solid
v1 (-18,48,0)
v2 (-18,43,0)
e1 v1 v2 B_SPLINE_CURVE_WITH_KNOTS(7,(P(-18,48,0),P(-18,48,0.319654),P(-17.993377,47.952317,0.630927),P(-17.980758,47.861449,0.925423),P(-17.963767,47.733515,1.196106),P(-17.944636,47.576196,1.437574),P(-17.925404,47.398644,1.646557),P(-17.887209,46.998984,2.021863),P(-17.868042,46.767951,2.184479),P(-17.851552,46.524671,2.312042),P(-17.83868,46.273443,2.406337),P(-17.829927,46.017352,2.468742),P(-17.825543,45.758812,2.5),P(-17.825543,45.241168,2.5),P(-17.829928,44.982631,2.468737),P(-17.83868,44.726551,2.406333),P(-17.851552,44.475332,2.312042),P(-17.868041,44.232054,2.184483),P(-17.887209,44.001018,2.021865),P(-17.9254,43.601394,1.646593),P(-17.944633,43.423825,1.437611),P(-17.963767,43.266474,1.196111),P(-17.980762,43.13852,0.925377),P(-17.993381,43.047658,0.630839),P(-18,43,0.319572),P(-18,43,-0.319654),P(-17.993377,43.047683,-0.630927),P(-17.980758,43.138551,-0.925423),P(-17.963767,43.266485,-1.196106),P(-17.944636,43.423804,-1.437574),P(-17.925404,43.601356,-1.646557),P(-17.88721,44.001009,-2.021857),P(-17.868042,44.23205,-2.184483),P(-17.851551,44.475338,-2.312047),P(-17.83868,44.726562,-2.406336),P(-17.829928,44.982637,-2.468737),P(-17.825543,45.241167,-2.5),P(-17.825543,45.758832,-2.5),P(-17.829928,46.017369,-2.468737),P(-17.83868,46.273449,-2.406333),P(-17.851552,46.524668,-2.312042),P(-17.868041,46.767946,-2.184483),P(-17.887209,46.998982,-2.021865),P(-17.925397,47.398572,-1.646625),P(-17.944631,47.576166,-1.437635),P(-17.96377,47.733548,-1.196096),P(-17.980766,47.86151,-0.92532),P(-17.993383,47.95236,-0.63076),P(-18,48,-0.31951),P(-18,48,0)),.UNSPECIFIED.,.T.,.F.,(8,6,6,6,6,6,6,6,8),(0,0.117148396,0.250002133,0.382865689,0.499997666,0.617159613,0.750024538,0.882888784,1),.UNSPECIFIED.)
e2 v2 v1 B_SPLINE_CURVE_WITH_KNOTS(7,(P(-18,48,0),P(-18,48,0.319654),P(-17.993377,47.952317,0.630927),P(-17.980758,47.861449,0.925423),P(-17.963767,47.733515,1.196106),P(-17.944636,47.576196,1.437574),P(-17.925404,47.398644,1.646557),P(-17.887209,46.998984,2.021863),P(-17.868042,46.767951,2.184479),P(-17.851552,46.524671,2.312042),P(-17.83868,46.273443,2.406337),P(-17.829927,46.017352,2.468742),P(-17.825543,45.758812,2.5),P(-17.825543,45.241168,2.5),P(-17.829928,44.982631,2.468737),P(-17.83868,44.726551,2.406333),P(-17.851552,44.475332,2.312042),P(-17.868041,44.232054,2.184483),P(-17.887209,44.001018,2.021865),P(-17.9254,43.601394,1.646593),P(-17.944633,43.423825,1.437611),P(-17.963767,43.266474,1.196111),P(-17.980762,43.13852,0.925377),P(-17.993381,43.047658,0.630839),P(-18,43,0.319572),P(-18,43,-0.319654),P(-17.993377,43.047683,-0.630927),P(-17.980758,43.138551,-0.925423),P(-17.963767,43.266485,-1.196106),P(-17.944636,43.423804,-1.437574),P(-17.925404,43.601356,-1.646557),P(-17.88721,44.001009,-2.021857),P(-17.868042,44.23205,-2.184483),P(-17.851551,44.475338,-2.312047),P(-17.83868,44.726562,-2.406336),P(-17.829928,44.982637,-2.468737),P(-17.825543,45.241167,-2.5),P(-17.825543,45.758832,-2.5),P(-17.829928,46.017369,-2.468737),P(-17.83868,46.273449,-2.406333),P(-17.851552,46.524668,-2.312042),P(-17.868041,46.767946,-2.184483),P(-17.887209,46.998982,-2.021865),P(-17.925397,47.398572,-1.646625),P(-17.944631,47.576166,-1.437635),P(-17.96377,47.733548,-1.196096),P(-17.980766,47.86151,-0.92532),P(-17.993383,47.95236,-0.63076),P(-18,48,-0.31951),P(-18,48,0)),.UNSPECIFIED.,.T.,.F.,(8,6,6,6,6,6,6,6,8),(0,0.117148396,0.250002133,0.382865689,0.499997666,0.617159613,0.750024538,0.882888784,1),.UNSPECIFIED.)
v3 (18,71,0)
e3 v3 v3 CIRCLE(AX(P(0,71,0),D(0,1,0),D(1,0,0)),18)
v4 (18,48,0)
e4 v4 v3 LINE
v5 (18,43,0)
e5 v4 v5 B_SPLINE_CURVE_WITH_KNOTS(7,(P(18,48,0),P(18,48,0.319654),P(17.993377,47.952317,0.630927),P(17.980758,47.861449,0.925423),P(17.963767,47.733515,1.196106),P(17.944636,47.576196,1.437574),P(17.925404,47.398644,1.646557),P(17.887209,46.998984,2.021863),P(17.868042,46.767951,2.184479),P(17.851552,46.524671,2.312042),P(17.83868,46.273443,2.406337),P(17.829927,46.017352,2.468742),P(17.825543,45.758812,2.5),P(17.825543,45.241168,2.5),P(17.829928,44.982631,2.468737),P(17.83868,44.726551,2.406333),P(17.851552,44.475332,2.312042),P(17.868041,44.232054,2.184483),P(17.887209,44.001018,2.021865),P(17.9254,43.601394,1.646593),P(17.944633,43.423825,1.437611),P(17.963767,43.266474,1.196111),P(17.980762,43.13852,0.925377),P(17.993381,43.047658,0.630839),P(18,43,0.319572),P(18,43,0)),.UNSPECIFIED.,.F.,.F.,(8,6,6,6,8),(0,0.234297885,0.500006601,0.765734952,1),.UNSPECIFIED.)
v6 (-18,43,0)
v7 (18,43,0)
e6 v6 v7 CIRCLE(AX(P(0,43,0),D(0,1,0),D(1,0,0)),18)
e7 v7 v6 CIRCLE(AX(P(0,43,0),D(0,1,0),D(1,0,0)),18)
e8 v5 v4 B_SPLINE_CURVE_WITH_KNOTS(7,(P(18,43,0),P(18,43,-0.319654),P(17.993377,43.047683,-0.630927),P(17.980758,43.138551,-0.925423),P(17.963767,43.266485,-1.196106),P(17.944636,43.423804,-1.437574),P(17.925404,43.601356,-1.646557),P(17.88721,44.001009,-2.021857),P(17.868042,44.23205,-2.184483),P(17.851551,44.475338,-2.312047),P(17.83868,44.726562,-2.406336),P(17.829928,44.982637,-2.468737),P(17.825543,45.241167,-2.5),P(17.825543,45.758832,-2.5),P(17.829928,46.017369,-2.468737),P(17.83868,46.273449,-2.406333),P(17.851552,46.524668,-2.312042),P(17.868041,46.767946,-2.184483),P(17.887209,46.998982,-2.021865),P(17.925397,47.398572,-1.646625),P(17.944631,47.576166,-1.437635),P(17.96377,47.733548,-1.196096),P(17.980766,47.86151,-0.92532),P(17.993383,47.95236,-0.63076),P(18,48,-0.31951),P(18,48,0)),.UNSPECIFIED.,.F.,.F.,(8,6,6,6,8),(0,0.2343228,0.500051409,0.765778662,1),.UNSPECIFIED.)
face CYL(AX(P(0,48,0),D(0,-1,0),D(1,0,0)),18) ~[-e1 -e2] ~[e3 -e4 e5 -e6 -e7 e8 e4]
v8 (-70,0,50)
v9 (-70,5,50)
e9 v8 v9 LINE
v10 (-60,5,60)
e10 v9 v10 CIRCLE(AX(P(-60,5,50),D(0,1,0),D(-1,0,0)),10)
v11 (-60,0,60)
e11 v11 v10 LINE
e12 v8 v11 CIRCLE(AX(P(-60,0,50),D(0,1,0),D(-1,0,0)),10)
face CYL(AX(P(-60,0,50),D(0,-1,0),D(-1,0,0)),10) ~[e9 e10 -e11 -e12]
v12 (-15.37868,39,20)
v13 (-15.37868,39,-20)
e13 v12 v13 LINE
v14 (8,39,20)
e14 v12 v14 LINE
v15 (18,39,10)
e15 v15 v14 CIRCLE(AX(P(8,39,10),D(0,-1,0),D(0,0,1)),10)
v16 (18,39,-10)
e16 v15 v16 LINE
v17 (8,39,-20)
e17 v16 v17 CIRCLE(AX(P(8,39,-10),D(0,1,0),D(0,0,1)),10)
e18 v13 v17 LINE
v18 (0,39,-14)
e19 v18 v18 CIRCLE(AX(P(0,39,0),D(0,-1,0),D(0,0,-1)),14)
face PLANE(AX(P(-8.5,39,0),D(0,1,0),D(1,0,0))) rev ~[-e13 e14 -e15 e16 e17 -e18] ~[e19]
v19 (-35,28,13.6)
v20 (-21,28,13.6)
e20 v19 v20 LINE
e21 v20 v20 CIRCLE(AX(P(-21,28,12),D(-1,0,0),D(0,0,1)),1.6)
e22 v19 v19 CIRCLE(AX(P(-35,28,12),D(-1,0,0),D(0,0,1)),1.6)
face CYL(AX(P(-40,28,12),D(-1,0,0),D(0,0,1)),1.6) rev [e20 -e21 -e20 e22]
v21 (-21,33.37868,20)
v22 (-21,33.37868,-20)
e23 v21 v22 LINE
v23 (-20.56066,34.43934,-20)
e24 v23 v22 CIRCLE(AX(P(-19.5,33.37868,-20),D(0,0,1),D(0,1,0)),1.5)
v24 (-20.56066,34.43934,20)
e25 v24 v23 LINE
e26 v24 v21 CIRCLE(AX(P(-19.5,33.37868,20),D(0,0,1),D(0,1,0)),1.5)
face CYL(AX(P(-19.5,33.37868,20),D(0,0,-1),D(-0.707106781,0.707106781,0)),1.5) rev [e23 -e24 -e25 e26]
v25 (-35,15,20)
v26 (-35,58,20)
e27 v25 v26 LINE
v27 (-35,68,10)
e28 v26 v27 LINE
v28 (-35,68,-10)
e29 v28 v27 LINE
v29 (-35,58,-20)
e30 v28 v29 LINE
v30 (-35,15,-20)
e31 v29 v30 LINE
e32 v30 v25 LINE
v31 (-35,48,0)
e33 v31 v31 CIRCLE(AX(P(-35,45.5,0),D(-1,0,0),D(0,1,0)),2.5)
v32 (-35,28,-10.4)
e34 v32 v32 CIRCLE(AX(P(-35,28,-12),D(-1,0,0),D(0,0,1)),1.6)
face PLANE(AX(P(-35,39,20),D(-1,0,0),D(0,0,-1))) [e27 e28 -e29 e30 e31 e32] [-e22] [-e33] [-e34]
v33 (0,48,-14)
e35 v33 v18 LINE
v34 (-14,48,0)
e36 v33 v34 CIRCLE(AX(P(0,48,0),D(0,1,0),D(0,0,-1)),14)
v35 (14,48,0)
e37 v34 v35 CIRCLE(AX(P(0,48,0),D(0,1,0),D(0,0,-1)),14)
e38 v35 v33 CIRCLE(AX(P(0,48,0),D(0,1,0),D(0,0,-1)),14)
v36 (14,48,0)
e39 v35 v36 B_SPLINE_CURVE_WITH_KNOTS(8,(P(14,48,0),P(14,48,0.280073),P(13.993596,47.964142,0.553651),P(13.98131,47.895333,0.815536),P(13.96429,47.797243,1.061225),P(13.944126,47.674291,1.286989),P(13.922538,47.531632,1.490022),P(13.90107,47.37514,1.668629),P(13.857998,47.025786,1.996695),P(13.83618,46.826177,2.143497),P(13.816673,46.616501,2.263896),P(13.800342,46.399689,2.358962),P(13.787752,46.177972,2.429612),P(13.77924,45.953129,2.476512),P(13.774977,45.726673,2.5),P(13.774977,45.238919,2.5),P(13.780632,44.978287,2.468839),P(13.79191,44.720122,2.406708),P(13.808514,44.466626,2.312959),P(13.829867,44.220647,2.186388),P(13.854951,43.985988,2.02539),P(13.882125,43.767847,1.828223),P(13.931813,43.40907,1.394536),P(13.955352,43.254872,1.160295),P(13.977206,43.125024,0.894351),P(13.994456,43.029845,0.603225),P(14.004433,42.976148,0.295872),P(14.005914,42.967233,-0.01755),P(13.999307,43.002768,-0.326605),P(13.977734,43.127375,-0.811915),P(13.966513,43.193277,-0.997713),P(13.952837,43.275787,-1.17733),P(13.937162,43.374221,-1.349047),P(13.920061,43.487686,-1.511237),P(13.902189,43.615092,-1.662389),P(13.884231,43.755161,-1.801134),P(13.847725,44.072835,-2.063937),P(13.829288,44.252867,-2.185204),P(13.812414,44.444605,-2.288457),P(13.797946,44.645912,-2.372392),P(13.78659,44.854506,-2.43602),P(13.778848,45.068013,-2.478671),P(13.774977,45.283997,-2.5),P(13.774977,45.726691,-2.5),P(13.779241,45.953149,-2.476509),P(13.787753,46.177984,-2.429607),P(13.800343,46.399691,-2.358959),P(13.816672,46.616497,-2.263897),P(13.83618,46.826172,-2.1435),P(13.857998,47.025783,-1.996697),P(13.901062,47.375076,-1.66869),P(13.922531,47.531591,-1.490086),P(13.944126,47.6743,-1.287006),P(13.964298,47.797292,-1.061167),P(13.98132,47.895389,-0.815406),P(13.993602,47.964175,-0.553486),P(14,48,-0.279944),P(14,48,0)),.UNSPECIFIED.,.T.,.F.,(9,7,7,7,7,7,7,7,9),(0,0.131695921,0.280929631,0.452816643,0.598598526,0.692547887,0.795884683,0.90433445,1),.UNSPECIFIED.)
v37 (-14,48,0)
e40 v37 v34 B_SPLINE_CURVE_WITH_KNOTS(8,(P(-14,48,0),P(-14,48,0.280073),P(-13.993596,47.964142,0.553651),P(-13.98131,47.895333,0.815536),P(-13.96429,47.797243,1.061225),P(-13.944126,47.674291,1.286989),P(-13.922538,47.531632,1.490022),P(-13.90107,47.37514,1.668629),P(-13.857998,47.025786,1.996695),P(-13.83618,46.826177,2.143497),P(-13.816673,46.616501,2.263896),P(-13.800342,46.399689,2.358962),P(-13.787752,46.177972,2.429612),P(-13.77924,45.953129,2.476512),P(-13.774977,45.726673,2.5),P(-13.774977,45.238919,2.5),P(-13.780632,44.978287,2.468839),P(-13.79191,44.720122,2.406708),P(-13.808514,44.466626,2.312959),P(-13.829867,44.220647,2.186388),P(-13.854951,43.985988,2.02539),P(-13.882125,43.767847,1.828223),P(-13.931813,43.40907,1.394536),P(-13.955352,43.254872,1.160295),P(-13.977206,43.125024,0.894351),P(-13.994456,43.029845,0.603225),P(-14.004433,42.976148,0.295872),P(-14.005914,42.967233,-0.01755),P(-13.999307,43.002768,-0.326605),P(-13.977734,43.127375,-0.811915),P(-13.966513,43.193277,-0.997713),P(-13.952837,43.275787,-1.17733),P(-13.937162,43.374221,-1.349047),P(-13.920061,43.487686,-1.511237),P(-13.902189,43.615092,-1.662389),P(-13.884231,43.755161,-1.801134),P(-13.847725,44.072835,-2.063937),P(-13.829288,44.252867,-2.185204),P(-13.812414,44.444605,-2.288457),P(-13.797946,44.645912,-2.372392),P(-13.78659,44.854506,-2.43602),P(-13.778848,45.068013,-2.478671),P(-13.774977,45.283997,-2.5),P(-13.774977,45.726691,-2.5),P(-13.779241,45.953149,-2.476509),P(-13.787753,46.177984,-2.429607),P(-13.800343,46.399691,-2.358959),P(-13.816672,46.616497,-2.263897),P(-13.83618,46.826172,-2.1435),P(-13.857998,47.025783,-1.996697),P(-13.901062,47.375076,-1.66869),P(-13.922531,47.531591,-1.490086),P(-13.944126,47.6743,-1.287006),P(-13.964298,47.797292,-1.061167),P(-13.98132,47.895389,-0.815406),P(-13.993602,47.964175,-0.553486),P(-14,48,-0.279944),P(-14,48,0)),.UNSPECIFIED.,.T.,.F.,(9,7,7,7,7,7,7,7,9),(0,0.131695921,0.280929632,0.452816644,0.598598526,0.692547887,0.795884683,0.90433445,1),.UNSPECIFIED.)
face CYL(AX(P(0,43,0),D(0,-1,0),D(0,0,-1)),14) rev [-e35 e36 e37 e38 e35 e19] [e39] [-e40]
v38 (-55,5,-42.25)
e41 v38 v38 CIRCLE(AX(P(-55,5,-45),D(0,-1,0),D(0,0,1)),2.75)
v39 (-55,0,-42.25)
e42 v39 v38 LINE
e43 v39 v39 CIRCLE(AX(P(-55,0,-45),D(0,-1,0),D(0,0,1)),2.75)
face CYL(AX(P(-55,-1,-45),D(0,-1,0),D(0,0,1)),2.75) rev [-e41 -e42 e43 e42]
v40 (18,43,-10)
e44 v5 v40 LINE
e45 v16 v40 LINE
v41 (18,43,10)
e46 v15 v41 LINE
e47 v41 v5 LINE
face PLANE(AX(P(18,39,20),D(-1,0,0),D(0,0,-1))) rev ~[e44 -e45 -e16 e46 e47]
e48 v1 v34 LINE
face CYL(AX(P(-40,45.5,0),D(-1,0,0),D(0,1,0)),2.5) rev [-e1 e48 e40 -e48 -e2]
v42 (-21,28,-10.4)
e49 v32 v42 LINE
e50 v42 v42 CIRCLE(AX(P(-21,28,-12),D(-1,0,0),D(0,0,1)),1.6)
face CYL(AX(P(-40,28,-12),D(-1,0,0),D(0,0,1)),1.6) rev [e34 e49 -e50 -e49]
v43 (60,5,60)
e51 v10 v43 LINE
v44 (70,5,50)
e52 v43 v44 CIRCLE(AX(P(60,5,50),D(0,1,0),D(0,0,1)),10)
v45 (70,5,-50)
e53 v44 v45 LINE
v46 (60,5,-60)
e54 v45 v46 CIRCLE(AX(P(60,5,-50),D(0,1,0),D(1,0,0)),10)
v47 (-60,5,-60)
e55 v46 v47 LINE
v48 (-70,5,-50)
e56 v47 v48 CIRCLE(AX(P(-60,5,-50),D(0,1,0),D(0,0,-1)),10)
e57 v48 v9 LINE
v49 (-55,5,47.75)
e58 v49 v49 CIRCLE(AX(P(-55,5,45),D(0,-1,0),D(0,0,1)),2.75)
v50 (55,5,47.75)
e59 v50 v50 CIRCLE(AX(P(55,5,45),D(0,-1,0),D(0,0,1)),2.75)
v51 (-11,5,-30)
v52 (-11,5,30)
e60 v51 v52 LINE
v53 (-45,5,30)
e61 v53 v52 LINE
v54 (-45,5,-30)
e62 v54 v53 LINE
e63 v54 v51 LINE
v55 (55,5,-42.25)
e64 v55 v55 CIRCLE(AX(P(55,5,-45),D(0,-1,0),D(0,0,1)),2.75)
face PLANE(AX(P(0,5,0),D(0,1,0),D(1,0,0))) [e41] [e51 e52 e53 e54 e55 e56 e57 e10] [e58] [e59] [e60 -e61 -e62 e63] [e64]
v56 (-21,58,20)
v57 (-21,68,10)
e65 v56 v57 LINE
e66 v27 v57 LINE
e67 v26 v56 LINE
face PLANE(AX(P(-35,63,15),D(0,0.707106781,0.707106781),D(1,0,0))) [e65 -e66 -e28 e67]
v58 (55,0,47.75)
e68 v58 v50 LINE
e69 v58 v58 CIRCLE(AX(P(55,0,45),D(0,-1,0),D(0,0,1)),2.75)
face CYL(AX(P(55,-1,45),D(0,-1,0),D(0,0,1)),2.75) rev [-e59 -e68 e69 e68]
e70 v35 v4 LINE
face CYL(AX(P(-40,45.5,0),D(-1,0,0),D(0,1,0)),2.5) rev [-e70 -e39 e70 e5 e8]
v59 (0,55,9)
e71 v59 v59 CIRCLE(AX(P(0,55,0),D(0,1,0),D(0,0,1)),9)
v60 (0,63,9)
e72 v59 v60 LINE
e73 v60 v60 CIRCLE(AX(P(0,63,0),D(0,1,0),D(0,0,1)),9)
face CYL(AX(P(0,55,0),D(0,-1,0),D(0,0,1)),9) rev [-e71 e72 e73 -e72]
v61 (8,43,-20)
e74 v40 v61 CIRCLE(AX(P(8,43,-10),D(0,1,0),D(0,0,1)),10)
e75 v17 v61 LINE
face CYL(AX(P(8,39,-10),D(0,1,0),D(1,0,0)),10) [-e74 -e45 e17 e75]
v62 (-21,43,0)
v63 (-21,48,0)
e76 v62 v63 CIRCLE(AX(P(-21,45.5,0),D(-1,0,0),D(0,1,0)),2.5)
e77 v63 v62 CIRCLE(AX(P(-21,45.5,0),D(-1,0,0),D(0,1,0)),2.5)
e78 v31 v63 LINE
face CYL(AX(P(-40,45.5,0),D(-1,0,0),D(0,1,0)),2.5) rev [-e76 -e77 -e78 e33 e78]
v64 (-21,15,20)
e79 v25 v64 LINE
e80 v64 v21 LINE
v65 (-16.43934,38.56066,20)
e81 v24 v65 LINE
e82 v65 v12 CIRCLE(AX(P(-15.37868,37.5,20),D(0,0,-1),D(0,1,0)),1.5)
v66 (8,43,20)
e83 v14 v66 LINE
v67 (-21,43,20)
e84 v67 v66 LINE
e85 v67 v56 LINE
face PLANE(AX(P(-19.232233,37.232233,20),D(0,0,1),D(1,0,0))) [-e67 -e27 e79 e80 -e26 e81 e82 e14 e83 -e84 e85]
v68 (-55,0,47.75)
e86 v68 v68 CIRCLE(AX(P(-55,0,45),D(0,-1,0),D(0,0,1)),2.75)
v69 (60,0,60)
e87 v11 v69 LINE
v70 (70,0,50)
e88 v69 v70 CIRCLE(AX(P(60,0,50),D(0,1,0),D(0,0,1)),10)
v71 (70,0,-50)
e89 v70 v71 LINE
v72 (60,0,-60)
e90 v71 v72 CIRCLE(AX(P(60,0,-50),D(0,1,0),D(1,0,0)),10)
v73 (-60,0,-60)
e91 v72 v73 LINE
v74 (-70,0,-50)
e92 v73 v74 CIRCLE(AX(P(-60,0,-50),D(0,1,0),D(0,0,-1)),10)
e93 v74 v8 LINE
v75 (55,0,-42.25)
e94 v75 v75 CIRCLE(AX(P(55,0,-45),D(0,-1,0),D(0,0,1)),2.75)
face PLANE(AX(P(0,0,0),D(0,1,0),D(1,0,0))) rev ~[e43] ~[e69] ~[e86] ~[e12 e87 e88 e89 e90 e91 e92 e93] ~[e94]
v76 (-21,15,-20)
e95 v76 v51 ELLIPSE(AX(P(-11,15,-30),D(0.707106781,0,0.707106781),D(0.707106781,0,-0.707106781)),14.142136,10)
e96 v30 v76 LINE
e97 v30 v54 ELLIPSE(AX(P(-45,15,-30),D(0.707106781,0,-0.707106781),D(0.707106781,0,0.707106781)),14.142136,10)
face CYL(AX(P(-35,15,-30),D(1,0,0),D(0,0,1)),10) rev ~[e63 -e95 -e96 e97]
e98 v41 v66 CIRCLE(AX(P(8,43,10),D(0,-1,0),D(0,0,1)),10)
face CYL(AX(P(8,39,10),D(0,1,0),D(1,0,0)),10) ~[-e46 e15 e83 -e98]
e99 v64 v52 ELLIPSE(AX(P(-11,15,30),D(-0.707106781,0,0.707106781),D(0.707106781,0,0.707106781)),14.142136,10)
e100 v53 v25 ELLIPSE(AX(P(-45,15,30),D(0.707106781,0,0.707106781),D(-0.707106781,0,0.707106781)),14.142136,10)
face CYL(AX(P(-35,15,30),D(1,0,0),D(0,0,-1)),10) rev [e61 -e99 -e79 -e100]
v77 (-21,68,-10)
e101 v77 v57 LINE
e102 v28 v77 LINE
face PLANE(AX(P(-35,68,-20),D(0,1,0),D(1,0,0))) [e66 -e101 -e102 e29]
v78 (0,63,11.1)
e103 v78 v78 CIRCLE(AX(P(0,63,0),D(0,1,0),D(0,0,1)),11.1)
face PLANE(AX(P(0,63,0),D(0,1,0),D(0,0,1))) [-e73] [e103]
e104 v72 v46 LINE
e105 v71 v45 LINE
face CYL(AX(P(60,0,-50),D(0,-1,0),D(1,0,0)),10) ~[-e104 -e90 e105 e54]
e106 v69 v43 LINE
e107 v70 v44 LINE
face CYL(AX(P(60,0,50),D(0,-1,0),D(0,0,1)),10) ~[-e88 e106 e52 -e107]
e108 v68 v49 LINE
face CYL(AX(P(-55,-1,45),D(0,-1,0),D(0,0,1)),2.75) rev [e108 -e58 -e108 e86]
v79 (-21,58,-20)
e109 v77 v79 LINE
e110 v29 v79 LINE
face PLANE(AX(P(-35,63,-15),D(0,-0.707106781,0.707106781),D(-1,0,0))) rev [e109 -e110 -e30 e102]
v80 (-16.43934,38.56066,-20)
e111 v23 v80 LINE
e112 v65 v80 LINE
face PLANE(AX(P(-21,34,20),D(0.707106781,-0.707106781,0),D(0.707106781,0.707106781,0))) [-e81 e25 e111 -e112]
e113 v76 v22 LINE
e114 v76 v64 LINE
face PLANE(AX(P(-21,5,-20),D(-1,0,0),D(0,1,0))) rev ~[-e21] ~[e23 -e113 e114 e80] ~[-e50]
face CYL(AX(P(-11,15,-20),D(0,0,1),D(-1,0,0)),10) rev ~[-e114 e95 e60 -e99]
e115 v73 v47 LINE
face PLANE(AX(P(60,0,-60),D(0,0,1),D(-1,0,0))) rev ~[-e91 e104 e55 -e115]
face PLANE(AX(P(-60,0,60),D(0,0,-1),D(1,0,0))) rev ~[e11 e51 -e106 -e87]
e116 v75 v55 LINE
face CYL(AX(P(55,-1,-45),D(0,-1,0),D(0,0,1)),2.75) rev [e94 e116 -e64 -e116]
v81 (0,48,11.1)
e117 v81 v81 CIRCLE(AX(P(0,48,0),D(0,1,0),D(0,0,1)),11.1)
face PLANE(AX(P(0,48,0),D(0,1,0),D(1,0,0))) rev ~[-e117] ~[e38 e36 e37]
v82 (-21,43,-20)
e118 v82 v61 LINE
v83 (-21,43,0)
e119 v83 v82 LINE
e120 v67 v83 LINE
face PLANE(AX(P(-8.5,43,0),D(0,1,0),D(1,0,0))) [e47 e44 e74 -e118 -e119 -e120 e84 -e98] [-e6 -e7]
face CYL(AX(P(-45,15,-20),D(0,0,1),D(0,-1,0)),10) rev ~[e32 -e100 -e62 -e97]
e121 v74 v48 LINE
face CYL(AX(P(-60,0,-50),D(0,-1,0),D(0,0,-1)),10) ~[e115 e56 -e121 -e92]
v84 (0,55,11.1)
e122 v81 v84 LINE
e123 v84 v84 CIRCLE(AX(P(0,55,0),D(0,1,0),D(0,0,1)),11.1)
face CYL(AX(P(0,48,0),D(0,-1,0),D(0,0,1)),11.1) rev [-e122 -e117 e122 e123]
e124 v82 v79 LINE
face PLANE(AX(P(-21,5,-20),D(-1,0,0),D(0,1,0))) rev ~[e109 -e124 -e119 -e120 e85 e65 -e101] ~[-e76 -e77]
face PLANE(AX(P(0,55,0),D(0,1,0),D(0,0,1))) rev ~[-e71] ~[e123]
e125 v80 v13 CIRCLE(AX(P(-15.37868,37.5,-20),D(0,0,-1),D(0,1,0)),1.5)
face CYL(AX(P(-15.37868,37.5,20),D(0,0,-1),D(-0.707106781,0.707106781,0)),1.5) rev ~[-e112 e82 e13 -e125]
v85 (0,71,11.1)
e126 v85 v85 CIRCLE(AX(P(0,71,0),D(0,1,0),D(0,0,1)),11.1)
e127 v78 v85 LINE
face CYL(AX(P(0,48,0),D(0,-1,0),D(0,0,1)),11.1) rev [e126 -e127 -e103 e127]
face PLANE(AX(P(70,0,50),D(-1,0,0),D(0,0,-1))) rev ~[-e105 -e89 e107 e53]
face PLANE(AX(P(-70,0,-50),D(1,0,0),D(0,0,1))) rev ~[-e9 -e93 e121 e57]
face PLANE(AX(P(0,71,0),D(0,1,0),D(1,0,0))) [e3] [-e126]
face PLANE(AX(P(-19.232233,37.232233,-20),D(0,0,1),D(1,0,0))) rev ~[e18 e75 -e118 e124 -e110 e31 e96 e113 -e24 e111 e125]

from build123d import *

# Parameters (mm, degrees)
BENCH_FOOTPRINT_140X120_DEPTH           = 5
BACKBONE_START                          = -20
BACKBONE_PROFILE_W                      = 14
BACKBONE_PROFILE_H                      = 63
BACKBONE_DEPTH                          = 40
REMOVABLE_SERVO_MOUNT_M3_START          = -40
REMOVABLE_SERVO_MOUNT_M3_PROFILE_R      = 1.6
REMOVABLE_SERVO_MOUNT_M3_DEPTH          = 155.560027933
BEARING_BRIDGE_START                    = 39
BEARING_BRIDGE_PROFILE_W                = 53
BEARING_BRIDGE_PROFILE_H                = 40
BEARING_BRIDGE_DEPTH                    = 4
BRIDGE_HORN_CLEARANCE_START             = 38
BRIDGE_HORN_CLEARANCE_PROFILE_R         = 14
BRIDGE_HORN_CLEARANCE_DEPTH             = 77.560027933
DRIVE_COLLAR_CHAMBER_START              = 43
DRIVE_COLLAR_CHAMBER_PROFILE_R          = 18
DRIVE_COLLAR_CHAMBER_PROFILE_R_2        = 14
DRIVE_COLLAR_CHAMBER_DEPTH              = 5
BEARING_TOWER_START                     = 48
BEARING_TOWER_PROFILE_R                 = 18
BEARING_TOWER_PROFILE_R_2               = 11.1
BEARING_TOWER_DEPTH                     = 23
BEARING_SEPARATION_SHOULDER_START       = 55
BEARING_SEPARATION_SHOULDER_PROFILE_R   = 11.1
BEARING_SEPARATION_SHOULDER_PROFILE_R_2 = 9
BEARING_SEPARATION_SHOULDER_DEPTH       = 8
BENCH_CLAMP_HOLES_START                 = -1
BENCH_CLAMP_HOLES_PROFILE_R             = 2.75
BENCH_CLAMP_HOLES_DEPTH                 = 118.365802537
YAW_CROSSBOLT_ACCESS_START              = -40
YAW_CROSSBOLT_ACCESS_PROFILE_R          = 2.5
YAW_CROSSBOLT_ACCESS_DEPTH              = 157.365802537
FILLET2_R                               = 10
BOSS_EXTRUDE1_DEPTH                     = 40
FILLET6_R                               = 1.5
FILLET7_R                               = 10
CHAMFER1_SIZE                           = 10


with BuildPart() as part:
    # Bench_footprint_140x120_profile → Bench_footprint_140x120 (new body)
    with BuildSketch(Plane(origin=(0, 0, 0), x_dir=(1, 0, 0), z_dir=(0, 1, 0))):
        with BuildLine():
            Line((-60, -60), (60, -60))
            ThreePointArc((60, -60), (67.071067812, -57.071067812), (70, -50))
            Line((70, -50), (70, 50))
            ThreePointArc((70, 50), (67.071067812, 57.071067812), (60, 60))
            Line((60, 60), (-60, 60))
            ThreePointArc((-60, 60), (-67.071067812, 57.071067812), (-70, 50))
            Line((-70, 50), (-70, -50))
            ThreePointArc((-70, -50), (-67.071067812, -57.071067812), (-60, -60))
        make_face()
    extrude(amount=BENCH_FOOTPRINT_140X120_DEPTH)

    # Backbone_profile → Backbone (add)
    with BuildSketch(Plane.XY.offset(BACKBONE_START)):
        with Locations((-28, 36.5)):
            Rectangle(BACKBONE_PROFILE_W, BACKBONE_PROFILE_H)
    extrude(amount=BACKBONE_DEPTH)

    # Removable_servo_mount_M3_profile → Removable_servo_mount_M3 (cut, through all)
    with BuildSketch(Plane(origin=(0, 0, 0), x_dir=(0, 0, -1), z_dir=(1, 0, 0)).offset(REMOVABLE_SERVO_MOUNT_M3_START)):
        with Locations(Location((12, 28, 0), (0, 0, 180))):
            Circle(REMOVABLE_SERVO_MOUNT_M3_PROFILE_R)
        with Locations(Location((-12, 28, 0), (0, 0, 180))):
            Circle(REMOVABLE_SERVO_MOUNT_M3_PROFILE_R)
    extrude(amount=REMOVABLE_SERVO_MOUNT_M3_DEPTH, mode=Mode.SUBTRACT)

    # Bearing_bridge_profile → Bearing_bridge (add)
    with BuildSketch(Plane(origin=(0, 0, 0), x_dir=(1, 0, 0), z_dir=(0, 1, 0)).offset(BEARING_BRIDGE_START)):
        with Locations((-8.5, 0)):
            Rectangle(BEARING_BRIDGE_PROFILE_W, BEARING_BRIDGE_PROFILE_H)
    extrude(amount=BEARING_BRIDGE_DEPTH)

    # Bridge_horn_clearance_profile → Bridge_horn_clearance (cut, through all)
    with BuildSketch(Plane(origin=(0, 0, 0), x_dir=(1, 0, 0), z_dir=(0, 1, 0)).offset(BRIDGE_HORN_CLEARANCE_START)):
        with Locations(Location((0, 0, 0), (0, 0, 90))):
            Circle(BRIDGE_HORN_CLEARANCE_PROFILE_R)
    extrude(amount=BRIDGE_HORN_CLEARANCE_DEPTH, mode=Mode.SUBTRACT)

    # Drive_collar_chamber_profile → Drive_collar_chamber (add)
    with BuildSketch(Plane(origin=(0, 0, 0), x_dir=(1, 0, 0), z_dir=(0, 1, 0)).offset(DRIVE_COLLAR_CHAMBER_START)):
        Circle(DRIVE_COLLAR_CHAMBER_PROFILE_R)
        with Locations(Location((0, 0, 0), (0, 0, 90))):
            Circle(DRIVE_COLLAR_CHAMBER_PROFILE_R_2, mode=Mode.SUBTRACT)
    extrude(amount=DRIVE_COLLAR_CHAMBER_DEPTH)

    # Bearing_tower_profile → Bearing_tower (add)
    with BuildSketch(Plane(origin=(0, 0, 0), x_dir=(1, 0, 0), z_dir=(0, 1, 0)).offset(BEARING_TOWER_START)):
        Circle(BEARING_TOWER_PROFILE_R)
        with Locations(Location((0, 0, 0), (0, 0, 270))):
            Circle(BEARING_TOWER_PROFILE_R_2, mode=Mode.SUBTRACT)
    extrude(amount=BEARING_TOWER_DEPTH)

    # Bearing_separation_shoulder_profile → Bearing_separation_shoulder (add)
    with BuildSketch(Plane(origin=(0, 0, 0), x_dir=(1, 0, 0), z_dir=(0, 1, 0)).offset(BEARING_SEPARATION_SHOULDER_START)):
        with Locations(Location((0, 0, 0), (0, 0, 270))):
            Circle(BEARING_SEPARATION_SHOULDER_PROFILE_R)
        with Locations(Location((0, 0, 0), (0, 0, 270))):
            Circle(BEARING_SEPARATION_SHOULDER_PROFILE_R_2, mode=Mode.SUBTRACT)
    extrude(amount=BEARING_SEPARATION_SHOULDER_DEPTH)

    # Bench_clamp_holes_profile → Bench_clamp_holes (cut, through all)
    with BuildSketch(Plane(origin=(0, 0, 0), x_dir=(1, 0, 0), z_dir=(0, 1, 0)).offset(BENCH_CLAMP_HOLES_START)):
        with Locations(Location((-55, -45, 0), (0, 0, 270))):
            Circle(BENCH_CLAMP_HOLES_PROFILE_R)
        with Locations(Location((55, -45, 0), (0, 0, 270))):
            Circle(BENCH_CLAMP_HOLES_PROFILE_R)
        with Locations(Location((-55, 45, 0), (0, 0, 270))):
            Circle(BENCH_CLAMP_HOLES_PROFILE_R)
        with Locations(Location((55, 45, 0), (0, 0, 270))):
            Circle(BENCH_CLAMP_HOLES_PROFILE_R)
    extrude(amount=BENCH_CLAMP_HOLES_DEPTH, mode=Mode.SUBTRACT)

    # Yaw_crossbolt_access_profile → Yaw_crossbolt_access (cut, through all)
    with BuildSketch(Plane(origin=(0, 0, 0), x_dir=(0, 0, -1), z_dir=(1, 0, 0)).offset(YAW_CROSSBOLT_ACCESS_START)):
        with Locations(Location((0, 45.5, 0), (0, 0, 90))):
            Circle(YAW_CROSSBOLT_ACCESS_PROFILE_R)
    extrude(amount=YAW_CROSSBOLT_ACCESS_DEPTH, mode=Mode.SUBTRACT)

    # Fillet2
    fillet2_edges = [part.edges().sort_by_distance(p)[0] for p in [
        (18, 41, -20),
        (18, 41, 20),
    ]]
    fillet(fillet2_edges, radius=FILLET2_R)

    # Sketch1 → Boss-Extrude1 (add)
    with BuildSketch(Plane.XY.offset(20)):
        Polygon((-21, 34), (-16, 39), (-21, 39), align=None)
    extrude(amount=-BOSS_EXTRUDE1_DEPTH)

    # Fillet6
    fillet6_edges = [part.edges().sort_by_distance(p)[0] for p in [
        (-16, 39, 0),
        (-21, 34, 0),
    ]]
    fillet(fillet6_edges, radius=FILLET6_R)

    # Fillet7
    fillet7_edges = [part.edges().sort_by_distance(p)[0] for p in [
        (-28, 5, -20),
        (-35, 5, 0),
        (-21, 5, 0),
        (-28, 5, 20),
    ]]
    fillet(fillet7_edges, radius=FILLET7_R)

    # Chamfer1
    chamfer1_edges = [part.edges().sort_by_distance(p)[0] for p in [
        (-28, 68, -20),
        (-28, 68, 20),
    ]]
    chamfer(chamfer1_edges, length=CHAMFER1_SIZE)


solid = part.part
